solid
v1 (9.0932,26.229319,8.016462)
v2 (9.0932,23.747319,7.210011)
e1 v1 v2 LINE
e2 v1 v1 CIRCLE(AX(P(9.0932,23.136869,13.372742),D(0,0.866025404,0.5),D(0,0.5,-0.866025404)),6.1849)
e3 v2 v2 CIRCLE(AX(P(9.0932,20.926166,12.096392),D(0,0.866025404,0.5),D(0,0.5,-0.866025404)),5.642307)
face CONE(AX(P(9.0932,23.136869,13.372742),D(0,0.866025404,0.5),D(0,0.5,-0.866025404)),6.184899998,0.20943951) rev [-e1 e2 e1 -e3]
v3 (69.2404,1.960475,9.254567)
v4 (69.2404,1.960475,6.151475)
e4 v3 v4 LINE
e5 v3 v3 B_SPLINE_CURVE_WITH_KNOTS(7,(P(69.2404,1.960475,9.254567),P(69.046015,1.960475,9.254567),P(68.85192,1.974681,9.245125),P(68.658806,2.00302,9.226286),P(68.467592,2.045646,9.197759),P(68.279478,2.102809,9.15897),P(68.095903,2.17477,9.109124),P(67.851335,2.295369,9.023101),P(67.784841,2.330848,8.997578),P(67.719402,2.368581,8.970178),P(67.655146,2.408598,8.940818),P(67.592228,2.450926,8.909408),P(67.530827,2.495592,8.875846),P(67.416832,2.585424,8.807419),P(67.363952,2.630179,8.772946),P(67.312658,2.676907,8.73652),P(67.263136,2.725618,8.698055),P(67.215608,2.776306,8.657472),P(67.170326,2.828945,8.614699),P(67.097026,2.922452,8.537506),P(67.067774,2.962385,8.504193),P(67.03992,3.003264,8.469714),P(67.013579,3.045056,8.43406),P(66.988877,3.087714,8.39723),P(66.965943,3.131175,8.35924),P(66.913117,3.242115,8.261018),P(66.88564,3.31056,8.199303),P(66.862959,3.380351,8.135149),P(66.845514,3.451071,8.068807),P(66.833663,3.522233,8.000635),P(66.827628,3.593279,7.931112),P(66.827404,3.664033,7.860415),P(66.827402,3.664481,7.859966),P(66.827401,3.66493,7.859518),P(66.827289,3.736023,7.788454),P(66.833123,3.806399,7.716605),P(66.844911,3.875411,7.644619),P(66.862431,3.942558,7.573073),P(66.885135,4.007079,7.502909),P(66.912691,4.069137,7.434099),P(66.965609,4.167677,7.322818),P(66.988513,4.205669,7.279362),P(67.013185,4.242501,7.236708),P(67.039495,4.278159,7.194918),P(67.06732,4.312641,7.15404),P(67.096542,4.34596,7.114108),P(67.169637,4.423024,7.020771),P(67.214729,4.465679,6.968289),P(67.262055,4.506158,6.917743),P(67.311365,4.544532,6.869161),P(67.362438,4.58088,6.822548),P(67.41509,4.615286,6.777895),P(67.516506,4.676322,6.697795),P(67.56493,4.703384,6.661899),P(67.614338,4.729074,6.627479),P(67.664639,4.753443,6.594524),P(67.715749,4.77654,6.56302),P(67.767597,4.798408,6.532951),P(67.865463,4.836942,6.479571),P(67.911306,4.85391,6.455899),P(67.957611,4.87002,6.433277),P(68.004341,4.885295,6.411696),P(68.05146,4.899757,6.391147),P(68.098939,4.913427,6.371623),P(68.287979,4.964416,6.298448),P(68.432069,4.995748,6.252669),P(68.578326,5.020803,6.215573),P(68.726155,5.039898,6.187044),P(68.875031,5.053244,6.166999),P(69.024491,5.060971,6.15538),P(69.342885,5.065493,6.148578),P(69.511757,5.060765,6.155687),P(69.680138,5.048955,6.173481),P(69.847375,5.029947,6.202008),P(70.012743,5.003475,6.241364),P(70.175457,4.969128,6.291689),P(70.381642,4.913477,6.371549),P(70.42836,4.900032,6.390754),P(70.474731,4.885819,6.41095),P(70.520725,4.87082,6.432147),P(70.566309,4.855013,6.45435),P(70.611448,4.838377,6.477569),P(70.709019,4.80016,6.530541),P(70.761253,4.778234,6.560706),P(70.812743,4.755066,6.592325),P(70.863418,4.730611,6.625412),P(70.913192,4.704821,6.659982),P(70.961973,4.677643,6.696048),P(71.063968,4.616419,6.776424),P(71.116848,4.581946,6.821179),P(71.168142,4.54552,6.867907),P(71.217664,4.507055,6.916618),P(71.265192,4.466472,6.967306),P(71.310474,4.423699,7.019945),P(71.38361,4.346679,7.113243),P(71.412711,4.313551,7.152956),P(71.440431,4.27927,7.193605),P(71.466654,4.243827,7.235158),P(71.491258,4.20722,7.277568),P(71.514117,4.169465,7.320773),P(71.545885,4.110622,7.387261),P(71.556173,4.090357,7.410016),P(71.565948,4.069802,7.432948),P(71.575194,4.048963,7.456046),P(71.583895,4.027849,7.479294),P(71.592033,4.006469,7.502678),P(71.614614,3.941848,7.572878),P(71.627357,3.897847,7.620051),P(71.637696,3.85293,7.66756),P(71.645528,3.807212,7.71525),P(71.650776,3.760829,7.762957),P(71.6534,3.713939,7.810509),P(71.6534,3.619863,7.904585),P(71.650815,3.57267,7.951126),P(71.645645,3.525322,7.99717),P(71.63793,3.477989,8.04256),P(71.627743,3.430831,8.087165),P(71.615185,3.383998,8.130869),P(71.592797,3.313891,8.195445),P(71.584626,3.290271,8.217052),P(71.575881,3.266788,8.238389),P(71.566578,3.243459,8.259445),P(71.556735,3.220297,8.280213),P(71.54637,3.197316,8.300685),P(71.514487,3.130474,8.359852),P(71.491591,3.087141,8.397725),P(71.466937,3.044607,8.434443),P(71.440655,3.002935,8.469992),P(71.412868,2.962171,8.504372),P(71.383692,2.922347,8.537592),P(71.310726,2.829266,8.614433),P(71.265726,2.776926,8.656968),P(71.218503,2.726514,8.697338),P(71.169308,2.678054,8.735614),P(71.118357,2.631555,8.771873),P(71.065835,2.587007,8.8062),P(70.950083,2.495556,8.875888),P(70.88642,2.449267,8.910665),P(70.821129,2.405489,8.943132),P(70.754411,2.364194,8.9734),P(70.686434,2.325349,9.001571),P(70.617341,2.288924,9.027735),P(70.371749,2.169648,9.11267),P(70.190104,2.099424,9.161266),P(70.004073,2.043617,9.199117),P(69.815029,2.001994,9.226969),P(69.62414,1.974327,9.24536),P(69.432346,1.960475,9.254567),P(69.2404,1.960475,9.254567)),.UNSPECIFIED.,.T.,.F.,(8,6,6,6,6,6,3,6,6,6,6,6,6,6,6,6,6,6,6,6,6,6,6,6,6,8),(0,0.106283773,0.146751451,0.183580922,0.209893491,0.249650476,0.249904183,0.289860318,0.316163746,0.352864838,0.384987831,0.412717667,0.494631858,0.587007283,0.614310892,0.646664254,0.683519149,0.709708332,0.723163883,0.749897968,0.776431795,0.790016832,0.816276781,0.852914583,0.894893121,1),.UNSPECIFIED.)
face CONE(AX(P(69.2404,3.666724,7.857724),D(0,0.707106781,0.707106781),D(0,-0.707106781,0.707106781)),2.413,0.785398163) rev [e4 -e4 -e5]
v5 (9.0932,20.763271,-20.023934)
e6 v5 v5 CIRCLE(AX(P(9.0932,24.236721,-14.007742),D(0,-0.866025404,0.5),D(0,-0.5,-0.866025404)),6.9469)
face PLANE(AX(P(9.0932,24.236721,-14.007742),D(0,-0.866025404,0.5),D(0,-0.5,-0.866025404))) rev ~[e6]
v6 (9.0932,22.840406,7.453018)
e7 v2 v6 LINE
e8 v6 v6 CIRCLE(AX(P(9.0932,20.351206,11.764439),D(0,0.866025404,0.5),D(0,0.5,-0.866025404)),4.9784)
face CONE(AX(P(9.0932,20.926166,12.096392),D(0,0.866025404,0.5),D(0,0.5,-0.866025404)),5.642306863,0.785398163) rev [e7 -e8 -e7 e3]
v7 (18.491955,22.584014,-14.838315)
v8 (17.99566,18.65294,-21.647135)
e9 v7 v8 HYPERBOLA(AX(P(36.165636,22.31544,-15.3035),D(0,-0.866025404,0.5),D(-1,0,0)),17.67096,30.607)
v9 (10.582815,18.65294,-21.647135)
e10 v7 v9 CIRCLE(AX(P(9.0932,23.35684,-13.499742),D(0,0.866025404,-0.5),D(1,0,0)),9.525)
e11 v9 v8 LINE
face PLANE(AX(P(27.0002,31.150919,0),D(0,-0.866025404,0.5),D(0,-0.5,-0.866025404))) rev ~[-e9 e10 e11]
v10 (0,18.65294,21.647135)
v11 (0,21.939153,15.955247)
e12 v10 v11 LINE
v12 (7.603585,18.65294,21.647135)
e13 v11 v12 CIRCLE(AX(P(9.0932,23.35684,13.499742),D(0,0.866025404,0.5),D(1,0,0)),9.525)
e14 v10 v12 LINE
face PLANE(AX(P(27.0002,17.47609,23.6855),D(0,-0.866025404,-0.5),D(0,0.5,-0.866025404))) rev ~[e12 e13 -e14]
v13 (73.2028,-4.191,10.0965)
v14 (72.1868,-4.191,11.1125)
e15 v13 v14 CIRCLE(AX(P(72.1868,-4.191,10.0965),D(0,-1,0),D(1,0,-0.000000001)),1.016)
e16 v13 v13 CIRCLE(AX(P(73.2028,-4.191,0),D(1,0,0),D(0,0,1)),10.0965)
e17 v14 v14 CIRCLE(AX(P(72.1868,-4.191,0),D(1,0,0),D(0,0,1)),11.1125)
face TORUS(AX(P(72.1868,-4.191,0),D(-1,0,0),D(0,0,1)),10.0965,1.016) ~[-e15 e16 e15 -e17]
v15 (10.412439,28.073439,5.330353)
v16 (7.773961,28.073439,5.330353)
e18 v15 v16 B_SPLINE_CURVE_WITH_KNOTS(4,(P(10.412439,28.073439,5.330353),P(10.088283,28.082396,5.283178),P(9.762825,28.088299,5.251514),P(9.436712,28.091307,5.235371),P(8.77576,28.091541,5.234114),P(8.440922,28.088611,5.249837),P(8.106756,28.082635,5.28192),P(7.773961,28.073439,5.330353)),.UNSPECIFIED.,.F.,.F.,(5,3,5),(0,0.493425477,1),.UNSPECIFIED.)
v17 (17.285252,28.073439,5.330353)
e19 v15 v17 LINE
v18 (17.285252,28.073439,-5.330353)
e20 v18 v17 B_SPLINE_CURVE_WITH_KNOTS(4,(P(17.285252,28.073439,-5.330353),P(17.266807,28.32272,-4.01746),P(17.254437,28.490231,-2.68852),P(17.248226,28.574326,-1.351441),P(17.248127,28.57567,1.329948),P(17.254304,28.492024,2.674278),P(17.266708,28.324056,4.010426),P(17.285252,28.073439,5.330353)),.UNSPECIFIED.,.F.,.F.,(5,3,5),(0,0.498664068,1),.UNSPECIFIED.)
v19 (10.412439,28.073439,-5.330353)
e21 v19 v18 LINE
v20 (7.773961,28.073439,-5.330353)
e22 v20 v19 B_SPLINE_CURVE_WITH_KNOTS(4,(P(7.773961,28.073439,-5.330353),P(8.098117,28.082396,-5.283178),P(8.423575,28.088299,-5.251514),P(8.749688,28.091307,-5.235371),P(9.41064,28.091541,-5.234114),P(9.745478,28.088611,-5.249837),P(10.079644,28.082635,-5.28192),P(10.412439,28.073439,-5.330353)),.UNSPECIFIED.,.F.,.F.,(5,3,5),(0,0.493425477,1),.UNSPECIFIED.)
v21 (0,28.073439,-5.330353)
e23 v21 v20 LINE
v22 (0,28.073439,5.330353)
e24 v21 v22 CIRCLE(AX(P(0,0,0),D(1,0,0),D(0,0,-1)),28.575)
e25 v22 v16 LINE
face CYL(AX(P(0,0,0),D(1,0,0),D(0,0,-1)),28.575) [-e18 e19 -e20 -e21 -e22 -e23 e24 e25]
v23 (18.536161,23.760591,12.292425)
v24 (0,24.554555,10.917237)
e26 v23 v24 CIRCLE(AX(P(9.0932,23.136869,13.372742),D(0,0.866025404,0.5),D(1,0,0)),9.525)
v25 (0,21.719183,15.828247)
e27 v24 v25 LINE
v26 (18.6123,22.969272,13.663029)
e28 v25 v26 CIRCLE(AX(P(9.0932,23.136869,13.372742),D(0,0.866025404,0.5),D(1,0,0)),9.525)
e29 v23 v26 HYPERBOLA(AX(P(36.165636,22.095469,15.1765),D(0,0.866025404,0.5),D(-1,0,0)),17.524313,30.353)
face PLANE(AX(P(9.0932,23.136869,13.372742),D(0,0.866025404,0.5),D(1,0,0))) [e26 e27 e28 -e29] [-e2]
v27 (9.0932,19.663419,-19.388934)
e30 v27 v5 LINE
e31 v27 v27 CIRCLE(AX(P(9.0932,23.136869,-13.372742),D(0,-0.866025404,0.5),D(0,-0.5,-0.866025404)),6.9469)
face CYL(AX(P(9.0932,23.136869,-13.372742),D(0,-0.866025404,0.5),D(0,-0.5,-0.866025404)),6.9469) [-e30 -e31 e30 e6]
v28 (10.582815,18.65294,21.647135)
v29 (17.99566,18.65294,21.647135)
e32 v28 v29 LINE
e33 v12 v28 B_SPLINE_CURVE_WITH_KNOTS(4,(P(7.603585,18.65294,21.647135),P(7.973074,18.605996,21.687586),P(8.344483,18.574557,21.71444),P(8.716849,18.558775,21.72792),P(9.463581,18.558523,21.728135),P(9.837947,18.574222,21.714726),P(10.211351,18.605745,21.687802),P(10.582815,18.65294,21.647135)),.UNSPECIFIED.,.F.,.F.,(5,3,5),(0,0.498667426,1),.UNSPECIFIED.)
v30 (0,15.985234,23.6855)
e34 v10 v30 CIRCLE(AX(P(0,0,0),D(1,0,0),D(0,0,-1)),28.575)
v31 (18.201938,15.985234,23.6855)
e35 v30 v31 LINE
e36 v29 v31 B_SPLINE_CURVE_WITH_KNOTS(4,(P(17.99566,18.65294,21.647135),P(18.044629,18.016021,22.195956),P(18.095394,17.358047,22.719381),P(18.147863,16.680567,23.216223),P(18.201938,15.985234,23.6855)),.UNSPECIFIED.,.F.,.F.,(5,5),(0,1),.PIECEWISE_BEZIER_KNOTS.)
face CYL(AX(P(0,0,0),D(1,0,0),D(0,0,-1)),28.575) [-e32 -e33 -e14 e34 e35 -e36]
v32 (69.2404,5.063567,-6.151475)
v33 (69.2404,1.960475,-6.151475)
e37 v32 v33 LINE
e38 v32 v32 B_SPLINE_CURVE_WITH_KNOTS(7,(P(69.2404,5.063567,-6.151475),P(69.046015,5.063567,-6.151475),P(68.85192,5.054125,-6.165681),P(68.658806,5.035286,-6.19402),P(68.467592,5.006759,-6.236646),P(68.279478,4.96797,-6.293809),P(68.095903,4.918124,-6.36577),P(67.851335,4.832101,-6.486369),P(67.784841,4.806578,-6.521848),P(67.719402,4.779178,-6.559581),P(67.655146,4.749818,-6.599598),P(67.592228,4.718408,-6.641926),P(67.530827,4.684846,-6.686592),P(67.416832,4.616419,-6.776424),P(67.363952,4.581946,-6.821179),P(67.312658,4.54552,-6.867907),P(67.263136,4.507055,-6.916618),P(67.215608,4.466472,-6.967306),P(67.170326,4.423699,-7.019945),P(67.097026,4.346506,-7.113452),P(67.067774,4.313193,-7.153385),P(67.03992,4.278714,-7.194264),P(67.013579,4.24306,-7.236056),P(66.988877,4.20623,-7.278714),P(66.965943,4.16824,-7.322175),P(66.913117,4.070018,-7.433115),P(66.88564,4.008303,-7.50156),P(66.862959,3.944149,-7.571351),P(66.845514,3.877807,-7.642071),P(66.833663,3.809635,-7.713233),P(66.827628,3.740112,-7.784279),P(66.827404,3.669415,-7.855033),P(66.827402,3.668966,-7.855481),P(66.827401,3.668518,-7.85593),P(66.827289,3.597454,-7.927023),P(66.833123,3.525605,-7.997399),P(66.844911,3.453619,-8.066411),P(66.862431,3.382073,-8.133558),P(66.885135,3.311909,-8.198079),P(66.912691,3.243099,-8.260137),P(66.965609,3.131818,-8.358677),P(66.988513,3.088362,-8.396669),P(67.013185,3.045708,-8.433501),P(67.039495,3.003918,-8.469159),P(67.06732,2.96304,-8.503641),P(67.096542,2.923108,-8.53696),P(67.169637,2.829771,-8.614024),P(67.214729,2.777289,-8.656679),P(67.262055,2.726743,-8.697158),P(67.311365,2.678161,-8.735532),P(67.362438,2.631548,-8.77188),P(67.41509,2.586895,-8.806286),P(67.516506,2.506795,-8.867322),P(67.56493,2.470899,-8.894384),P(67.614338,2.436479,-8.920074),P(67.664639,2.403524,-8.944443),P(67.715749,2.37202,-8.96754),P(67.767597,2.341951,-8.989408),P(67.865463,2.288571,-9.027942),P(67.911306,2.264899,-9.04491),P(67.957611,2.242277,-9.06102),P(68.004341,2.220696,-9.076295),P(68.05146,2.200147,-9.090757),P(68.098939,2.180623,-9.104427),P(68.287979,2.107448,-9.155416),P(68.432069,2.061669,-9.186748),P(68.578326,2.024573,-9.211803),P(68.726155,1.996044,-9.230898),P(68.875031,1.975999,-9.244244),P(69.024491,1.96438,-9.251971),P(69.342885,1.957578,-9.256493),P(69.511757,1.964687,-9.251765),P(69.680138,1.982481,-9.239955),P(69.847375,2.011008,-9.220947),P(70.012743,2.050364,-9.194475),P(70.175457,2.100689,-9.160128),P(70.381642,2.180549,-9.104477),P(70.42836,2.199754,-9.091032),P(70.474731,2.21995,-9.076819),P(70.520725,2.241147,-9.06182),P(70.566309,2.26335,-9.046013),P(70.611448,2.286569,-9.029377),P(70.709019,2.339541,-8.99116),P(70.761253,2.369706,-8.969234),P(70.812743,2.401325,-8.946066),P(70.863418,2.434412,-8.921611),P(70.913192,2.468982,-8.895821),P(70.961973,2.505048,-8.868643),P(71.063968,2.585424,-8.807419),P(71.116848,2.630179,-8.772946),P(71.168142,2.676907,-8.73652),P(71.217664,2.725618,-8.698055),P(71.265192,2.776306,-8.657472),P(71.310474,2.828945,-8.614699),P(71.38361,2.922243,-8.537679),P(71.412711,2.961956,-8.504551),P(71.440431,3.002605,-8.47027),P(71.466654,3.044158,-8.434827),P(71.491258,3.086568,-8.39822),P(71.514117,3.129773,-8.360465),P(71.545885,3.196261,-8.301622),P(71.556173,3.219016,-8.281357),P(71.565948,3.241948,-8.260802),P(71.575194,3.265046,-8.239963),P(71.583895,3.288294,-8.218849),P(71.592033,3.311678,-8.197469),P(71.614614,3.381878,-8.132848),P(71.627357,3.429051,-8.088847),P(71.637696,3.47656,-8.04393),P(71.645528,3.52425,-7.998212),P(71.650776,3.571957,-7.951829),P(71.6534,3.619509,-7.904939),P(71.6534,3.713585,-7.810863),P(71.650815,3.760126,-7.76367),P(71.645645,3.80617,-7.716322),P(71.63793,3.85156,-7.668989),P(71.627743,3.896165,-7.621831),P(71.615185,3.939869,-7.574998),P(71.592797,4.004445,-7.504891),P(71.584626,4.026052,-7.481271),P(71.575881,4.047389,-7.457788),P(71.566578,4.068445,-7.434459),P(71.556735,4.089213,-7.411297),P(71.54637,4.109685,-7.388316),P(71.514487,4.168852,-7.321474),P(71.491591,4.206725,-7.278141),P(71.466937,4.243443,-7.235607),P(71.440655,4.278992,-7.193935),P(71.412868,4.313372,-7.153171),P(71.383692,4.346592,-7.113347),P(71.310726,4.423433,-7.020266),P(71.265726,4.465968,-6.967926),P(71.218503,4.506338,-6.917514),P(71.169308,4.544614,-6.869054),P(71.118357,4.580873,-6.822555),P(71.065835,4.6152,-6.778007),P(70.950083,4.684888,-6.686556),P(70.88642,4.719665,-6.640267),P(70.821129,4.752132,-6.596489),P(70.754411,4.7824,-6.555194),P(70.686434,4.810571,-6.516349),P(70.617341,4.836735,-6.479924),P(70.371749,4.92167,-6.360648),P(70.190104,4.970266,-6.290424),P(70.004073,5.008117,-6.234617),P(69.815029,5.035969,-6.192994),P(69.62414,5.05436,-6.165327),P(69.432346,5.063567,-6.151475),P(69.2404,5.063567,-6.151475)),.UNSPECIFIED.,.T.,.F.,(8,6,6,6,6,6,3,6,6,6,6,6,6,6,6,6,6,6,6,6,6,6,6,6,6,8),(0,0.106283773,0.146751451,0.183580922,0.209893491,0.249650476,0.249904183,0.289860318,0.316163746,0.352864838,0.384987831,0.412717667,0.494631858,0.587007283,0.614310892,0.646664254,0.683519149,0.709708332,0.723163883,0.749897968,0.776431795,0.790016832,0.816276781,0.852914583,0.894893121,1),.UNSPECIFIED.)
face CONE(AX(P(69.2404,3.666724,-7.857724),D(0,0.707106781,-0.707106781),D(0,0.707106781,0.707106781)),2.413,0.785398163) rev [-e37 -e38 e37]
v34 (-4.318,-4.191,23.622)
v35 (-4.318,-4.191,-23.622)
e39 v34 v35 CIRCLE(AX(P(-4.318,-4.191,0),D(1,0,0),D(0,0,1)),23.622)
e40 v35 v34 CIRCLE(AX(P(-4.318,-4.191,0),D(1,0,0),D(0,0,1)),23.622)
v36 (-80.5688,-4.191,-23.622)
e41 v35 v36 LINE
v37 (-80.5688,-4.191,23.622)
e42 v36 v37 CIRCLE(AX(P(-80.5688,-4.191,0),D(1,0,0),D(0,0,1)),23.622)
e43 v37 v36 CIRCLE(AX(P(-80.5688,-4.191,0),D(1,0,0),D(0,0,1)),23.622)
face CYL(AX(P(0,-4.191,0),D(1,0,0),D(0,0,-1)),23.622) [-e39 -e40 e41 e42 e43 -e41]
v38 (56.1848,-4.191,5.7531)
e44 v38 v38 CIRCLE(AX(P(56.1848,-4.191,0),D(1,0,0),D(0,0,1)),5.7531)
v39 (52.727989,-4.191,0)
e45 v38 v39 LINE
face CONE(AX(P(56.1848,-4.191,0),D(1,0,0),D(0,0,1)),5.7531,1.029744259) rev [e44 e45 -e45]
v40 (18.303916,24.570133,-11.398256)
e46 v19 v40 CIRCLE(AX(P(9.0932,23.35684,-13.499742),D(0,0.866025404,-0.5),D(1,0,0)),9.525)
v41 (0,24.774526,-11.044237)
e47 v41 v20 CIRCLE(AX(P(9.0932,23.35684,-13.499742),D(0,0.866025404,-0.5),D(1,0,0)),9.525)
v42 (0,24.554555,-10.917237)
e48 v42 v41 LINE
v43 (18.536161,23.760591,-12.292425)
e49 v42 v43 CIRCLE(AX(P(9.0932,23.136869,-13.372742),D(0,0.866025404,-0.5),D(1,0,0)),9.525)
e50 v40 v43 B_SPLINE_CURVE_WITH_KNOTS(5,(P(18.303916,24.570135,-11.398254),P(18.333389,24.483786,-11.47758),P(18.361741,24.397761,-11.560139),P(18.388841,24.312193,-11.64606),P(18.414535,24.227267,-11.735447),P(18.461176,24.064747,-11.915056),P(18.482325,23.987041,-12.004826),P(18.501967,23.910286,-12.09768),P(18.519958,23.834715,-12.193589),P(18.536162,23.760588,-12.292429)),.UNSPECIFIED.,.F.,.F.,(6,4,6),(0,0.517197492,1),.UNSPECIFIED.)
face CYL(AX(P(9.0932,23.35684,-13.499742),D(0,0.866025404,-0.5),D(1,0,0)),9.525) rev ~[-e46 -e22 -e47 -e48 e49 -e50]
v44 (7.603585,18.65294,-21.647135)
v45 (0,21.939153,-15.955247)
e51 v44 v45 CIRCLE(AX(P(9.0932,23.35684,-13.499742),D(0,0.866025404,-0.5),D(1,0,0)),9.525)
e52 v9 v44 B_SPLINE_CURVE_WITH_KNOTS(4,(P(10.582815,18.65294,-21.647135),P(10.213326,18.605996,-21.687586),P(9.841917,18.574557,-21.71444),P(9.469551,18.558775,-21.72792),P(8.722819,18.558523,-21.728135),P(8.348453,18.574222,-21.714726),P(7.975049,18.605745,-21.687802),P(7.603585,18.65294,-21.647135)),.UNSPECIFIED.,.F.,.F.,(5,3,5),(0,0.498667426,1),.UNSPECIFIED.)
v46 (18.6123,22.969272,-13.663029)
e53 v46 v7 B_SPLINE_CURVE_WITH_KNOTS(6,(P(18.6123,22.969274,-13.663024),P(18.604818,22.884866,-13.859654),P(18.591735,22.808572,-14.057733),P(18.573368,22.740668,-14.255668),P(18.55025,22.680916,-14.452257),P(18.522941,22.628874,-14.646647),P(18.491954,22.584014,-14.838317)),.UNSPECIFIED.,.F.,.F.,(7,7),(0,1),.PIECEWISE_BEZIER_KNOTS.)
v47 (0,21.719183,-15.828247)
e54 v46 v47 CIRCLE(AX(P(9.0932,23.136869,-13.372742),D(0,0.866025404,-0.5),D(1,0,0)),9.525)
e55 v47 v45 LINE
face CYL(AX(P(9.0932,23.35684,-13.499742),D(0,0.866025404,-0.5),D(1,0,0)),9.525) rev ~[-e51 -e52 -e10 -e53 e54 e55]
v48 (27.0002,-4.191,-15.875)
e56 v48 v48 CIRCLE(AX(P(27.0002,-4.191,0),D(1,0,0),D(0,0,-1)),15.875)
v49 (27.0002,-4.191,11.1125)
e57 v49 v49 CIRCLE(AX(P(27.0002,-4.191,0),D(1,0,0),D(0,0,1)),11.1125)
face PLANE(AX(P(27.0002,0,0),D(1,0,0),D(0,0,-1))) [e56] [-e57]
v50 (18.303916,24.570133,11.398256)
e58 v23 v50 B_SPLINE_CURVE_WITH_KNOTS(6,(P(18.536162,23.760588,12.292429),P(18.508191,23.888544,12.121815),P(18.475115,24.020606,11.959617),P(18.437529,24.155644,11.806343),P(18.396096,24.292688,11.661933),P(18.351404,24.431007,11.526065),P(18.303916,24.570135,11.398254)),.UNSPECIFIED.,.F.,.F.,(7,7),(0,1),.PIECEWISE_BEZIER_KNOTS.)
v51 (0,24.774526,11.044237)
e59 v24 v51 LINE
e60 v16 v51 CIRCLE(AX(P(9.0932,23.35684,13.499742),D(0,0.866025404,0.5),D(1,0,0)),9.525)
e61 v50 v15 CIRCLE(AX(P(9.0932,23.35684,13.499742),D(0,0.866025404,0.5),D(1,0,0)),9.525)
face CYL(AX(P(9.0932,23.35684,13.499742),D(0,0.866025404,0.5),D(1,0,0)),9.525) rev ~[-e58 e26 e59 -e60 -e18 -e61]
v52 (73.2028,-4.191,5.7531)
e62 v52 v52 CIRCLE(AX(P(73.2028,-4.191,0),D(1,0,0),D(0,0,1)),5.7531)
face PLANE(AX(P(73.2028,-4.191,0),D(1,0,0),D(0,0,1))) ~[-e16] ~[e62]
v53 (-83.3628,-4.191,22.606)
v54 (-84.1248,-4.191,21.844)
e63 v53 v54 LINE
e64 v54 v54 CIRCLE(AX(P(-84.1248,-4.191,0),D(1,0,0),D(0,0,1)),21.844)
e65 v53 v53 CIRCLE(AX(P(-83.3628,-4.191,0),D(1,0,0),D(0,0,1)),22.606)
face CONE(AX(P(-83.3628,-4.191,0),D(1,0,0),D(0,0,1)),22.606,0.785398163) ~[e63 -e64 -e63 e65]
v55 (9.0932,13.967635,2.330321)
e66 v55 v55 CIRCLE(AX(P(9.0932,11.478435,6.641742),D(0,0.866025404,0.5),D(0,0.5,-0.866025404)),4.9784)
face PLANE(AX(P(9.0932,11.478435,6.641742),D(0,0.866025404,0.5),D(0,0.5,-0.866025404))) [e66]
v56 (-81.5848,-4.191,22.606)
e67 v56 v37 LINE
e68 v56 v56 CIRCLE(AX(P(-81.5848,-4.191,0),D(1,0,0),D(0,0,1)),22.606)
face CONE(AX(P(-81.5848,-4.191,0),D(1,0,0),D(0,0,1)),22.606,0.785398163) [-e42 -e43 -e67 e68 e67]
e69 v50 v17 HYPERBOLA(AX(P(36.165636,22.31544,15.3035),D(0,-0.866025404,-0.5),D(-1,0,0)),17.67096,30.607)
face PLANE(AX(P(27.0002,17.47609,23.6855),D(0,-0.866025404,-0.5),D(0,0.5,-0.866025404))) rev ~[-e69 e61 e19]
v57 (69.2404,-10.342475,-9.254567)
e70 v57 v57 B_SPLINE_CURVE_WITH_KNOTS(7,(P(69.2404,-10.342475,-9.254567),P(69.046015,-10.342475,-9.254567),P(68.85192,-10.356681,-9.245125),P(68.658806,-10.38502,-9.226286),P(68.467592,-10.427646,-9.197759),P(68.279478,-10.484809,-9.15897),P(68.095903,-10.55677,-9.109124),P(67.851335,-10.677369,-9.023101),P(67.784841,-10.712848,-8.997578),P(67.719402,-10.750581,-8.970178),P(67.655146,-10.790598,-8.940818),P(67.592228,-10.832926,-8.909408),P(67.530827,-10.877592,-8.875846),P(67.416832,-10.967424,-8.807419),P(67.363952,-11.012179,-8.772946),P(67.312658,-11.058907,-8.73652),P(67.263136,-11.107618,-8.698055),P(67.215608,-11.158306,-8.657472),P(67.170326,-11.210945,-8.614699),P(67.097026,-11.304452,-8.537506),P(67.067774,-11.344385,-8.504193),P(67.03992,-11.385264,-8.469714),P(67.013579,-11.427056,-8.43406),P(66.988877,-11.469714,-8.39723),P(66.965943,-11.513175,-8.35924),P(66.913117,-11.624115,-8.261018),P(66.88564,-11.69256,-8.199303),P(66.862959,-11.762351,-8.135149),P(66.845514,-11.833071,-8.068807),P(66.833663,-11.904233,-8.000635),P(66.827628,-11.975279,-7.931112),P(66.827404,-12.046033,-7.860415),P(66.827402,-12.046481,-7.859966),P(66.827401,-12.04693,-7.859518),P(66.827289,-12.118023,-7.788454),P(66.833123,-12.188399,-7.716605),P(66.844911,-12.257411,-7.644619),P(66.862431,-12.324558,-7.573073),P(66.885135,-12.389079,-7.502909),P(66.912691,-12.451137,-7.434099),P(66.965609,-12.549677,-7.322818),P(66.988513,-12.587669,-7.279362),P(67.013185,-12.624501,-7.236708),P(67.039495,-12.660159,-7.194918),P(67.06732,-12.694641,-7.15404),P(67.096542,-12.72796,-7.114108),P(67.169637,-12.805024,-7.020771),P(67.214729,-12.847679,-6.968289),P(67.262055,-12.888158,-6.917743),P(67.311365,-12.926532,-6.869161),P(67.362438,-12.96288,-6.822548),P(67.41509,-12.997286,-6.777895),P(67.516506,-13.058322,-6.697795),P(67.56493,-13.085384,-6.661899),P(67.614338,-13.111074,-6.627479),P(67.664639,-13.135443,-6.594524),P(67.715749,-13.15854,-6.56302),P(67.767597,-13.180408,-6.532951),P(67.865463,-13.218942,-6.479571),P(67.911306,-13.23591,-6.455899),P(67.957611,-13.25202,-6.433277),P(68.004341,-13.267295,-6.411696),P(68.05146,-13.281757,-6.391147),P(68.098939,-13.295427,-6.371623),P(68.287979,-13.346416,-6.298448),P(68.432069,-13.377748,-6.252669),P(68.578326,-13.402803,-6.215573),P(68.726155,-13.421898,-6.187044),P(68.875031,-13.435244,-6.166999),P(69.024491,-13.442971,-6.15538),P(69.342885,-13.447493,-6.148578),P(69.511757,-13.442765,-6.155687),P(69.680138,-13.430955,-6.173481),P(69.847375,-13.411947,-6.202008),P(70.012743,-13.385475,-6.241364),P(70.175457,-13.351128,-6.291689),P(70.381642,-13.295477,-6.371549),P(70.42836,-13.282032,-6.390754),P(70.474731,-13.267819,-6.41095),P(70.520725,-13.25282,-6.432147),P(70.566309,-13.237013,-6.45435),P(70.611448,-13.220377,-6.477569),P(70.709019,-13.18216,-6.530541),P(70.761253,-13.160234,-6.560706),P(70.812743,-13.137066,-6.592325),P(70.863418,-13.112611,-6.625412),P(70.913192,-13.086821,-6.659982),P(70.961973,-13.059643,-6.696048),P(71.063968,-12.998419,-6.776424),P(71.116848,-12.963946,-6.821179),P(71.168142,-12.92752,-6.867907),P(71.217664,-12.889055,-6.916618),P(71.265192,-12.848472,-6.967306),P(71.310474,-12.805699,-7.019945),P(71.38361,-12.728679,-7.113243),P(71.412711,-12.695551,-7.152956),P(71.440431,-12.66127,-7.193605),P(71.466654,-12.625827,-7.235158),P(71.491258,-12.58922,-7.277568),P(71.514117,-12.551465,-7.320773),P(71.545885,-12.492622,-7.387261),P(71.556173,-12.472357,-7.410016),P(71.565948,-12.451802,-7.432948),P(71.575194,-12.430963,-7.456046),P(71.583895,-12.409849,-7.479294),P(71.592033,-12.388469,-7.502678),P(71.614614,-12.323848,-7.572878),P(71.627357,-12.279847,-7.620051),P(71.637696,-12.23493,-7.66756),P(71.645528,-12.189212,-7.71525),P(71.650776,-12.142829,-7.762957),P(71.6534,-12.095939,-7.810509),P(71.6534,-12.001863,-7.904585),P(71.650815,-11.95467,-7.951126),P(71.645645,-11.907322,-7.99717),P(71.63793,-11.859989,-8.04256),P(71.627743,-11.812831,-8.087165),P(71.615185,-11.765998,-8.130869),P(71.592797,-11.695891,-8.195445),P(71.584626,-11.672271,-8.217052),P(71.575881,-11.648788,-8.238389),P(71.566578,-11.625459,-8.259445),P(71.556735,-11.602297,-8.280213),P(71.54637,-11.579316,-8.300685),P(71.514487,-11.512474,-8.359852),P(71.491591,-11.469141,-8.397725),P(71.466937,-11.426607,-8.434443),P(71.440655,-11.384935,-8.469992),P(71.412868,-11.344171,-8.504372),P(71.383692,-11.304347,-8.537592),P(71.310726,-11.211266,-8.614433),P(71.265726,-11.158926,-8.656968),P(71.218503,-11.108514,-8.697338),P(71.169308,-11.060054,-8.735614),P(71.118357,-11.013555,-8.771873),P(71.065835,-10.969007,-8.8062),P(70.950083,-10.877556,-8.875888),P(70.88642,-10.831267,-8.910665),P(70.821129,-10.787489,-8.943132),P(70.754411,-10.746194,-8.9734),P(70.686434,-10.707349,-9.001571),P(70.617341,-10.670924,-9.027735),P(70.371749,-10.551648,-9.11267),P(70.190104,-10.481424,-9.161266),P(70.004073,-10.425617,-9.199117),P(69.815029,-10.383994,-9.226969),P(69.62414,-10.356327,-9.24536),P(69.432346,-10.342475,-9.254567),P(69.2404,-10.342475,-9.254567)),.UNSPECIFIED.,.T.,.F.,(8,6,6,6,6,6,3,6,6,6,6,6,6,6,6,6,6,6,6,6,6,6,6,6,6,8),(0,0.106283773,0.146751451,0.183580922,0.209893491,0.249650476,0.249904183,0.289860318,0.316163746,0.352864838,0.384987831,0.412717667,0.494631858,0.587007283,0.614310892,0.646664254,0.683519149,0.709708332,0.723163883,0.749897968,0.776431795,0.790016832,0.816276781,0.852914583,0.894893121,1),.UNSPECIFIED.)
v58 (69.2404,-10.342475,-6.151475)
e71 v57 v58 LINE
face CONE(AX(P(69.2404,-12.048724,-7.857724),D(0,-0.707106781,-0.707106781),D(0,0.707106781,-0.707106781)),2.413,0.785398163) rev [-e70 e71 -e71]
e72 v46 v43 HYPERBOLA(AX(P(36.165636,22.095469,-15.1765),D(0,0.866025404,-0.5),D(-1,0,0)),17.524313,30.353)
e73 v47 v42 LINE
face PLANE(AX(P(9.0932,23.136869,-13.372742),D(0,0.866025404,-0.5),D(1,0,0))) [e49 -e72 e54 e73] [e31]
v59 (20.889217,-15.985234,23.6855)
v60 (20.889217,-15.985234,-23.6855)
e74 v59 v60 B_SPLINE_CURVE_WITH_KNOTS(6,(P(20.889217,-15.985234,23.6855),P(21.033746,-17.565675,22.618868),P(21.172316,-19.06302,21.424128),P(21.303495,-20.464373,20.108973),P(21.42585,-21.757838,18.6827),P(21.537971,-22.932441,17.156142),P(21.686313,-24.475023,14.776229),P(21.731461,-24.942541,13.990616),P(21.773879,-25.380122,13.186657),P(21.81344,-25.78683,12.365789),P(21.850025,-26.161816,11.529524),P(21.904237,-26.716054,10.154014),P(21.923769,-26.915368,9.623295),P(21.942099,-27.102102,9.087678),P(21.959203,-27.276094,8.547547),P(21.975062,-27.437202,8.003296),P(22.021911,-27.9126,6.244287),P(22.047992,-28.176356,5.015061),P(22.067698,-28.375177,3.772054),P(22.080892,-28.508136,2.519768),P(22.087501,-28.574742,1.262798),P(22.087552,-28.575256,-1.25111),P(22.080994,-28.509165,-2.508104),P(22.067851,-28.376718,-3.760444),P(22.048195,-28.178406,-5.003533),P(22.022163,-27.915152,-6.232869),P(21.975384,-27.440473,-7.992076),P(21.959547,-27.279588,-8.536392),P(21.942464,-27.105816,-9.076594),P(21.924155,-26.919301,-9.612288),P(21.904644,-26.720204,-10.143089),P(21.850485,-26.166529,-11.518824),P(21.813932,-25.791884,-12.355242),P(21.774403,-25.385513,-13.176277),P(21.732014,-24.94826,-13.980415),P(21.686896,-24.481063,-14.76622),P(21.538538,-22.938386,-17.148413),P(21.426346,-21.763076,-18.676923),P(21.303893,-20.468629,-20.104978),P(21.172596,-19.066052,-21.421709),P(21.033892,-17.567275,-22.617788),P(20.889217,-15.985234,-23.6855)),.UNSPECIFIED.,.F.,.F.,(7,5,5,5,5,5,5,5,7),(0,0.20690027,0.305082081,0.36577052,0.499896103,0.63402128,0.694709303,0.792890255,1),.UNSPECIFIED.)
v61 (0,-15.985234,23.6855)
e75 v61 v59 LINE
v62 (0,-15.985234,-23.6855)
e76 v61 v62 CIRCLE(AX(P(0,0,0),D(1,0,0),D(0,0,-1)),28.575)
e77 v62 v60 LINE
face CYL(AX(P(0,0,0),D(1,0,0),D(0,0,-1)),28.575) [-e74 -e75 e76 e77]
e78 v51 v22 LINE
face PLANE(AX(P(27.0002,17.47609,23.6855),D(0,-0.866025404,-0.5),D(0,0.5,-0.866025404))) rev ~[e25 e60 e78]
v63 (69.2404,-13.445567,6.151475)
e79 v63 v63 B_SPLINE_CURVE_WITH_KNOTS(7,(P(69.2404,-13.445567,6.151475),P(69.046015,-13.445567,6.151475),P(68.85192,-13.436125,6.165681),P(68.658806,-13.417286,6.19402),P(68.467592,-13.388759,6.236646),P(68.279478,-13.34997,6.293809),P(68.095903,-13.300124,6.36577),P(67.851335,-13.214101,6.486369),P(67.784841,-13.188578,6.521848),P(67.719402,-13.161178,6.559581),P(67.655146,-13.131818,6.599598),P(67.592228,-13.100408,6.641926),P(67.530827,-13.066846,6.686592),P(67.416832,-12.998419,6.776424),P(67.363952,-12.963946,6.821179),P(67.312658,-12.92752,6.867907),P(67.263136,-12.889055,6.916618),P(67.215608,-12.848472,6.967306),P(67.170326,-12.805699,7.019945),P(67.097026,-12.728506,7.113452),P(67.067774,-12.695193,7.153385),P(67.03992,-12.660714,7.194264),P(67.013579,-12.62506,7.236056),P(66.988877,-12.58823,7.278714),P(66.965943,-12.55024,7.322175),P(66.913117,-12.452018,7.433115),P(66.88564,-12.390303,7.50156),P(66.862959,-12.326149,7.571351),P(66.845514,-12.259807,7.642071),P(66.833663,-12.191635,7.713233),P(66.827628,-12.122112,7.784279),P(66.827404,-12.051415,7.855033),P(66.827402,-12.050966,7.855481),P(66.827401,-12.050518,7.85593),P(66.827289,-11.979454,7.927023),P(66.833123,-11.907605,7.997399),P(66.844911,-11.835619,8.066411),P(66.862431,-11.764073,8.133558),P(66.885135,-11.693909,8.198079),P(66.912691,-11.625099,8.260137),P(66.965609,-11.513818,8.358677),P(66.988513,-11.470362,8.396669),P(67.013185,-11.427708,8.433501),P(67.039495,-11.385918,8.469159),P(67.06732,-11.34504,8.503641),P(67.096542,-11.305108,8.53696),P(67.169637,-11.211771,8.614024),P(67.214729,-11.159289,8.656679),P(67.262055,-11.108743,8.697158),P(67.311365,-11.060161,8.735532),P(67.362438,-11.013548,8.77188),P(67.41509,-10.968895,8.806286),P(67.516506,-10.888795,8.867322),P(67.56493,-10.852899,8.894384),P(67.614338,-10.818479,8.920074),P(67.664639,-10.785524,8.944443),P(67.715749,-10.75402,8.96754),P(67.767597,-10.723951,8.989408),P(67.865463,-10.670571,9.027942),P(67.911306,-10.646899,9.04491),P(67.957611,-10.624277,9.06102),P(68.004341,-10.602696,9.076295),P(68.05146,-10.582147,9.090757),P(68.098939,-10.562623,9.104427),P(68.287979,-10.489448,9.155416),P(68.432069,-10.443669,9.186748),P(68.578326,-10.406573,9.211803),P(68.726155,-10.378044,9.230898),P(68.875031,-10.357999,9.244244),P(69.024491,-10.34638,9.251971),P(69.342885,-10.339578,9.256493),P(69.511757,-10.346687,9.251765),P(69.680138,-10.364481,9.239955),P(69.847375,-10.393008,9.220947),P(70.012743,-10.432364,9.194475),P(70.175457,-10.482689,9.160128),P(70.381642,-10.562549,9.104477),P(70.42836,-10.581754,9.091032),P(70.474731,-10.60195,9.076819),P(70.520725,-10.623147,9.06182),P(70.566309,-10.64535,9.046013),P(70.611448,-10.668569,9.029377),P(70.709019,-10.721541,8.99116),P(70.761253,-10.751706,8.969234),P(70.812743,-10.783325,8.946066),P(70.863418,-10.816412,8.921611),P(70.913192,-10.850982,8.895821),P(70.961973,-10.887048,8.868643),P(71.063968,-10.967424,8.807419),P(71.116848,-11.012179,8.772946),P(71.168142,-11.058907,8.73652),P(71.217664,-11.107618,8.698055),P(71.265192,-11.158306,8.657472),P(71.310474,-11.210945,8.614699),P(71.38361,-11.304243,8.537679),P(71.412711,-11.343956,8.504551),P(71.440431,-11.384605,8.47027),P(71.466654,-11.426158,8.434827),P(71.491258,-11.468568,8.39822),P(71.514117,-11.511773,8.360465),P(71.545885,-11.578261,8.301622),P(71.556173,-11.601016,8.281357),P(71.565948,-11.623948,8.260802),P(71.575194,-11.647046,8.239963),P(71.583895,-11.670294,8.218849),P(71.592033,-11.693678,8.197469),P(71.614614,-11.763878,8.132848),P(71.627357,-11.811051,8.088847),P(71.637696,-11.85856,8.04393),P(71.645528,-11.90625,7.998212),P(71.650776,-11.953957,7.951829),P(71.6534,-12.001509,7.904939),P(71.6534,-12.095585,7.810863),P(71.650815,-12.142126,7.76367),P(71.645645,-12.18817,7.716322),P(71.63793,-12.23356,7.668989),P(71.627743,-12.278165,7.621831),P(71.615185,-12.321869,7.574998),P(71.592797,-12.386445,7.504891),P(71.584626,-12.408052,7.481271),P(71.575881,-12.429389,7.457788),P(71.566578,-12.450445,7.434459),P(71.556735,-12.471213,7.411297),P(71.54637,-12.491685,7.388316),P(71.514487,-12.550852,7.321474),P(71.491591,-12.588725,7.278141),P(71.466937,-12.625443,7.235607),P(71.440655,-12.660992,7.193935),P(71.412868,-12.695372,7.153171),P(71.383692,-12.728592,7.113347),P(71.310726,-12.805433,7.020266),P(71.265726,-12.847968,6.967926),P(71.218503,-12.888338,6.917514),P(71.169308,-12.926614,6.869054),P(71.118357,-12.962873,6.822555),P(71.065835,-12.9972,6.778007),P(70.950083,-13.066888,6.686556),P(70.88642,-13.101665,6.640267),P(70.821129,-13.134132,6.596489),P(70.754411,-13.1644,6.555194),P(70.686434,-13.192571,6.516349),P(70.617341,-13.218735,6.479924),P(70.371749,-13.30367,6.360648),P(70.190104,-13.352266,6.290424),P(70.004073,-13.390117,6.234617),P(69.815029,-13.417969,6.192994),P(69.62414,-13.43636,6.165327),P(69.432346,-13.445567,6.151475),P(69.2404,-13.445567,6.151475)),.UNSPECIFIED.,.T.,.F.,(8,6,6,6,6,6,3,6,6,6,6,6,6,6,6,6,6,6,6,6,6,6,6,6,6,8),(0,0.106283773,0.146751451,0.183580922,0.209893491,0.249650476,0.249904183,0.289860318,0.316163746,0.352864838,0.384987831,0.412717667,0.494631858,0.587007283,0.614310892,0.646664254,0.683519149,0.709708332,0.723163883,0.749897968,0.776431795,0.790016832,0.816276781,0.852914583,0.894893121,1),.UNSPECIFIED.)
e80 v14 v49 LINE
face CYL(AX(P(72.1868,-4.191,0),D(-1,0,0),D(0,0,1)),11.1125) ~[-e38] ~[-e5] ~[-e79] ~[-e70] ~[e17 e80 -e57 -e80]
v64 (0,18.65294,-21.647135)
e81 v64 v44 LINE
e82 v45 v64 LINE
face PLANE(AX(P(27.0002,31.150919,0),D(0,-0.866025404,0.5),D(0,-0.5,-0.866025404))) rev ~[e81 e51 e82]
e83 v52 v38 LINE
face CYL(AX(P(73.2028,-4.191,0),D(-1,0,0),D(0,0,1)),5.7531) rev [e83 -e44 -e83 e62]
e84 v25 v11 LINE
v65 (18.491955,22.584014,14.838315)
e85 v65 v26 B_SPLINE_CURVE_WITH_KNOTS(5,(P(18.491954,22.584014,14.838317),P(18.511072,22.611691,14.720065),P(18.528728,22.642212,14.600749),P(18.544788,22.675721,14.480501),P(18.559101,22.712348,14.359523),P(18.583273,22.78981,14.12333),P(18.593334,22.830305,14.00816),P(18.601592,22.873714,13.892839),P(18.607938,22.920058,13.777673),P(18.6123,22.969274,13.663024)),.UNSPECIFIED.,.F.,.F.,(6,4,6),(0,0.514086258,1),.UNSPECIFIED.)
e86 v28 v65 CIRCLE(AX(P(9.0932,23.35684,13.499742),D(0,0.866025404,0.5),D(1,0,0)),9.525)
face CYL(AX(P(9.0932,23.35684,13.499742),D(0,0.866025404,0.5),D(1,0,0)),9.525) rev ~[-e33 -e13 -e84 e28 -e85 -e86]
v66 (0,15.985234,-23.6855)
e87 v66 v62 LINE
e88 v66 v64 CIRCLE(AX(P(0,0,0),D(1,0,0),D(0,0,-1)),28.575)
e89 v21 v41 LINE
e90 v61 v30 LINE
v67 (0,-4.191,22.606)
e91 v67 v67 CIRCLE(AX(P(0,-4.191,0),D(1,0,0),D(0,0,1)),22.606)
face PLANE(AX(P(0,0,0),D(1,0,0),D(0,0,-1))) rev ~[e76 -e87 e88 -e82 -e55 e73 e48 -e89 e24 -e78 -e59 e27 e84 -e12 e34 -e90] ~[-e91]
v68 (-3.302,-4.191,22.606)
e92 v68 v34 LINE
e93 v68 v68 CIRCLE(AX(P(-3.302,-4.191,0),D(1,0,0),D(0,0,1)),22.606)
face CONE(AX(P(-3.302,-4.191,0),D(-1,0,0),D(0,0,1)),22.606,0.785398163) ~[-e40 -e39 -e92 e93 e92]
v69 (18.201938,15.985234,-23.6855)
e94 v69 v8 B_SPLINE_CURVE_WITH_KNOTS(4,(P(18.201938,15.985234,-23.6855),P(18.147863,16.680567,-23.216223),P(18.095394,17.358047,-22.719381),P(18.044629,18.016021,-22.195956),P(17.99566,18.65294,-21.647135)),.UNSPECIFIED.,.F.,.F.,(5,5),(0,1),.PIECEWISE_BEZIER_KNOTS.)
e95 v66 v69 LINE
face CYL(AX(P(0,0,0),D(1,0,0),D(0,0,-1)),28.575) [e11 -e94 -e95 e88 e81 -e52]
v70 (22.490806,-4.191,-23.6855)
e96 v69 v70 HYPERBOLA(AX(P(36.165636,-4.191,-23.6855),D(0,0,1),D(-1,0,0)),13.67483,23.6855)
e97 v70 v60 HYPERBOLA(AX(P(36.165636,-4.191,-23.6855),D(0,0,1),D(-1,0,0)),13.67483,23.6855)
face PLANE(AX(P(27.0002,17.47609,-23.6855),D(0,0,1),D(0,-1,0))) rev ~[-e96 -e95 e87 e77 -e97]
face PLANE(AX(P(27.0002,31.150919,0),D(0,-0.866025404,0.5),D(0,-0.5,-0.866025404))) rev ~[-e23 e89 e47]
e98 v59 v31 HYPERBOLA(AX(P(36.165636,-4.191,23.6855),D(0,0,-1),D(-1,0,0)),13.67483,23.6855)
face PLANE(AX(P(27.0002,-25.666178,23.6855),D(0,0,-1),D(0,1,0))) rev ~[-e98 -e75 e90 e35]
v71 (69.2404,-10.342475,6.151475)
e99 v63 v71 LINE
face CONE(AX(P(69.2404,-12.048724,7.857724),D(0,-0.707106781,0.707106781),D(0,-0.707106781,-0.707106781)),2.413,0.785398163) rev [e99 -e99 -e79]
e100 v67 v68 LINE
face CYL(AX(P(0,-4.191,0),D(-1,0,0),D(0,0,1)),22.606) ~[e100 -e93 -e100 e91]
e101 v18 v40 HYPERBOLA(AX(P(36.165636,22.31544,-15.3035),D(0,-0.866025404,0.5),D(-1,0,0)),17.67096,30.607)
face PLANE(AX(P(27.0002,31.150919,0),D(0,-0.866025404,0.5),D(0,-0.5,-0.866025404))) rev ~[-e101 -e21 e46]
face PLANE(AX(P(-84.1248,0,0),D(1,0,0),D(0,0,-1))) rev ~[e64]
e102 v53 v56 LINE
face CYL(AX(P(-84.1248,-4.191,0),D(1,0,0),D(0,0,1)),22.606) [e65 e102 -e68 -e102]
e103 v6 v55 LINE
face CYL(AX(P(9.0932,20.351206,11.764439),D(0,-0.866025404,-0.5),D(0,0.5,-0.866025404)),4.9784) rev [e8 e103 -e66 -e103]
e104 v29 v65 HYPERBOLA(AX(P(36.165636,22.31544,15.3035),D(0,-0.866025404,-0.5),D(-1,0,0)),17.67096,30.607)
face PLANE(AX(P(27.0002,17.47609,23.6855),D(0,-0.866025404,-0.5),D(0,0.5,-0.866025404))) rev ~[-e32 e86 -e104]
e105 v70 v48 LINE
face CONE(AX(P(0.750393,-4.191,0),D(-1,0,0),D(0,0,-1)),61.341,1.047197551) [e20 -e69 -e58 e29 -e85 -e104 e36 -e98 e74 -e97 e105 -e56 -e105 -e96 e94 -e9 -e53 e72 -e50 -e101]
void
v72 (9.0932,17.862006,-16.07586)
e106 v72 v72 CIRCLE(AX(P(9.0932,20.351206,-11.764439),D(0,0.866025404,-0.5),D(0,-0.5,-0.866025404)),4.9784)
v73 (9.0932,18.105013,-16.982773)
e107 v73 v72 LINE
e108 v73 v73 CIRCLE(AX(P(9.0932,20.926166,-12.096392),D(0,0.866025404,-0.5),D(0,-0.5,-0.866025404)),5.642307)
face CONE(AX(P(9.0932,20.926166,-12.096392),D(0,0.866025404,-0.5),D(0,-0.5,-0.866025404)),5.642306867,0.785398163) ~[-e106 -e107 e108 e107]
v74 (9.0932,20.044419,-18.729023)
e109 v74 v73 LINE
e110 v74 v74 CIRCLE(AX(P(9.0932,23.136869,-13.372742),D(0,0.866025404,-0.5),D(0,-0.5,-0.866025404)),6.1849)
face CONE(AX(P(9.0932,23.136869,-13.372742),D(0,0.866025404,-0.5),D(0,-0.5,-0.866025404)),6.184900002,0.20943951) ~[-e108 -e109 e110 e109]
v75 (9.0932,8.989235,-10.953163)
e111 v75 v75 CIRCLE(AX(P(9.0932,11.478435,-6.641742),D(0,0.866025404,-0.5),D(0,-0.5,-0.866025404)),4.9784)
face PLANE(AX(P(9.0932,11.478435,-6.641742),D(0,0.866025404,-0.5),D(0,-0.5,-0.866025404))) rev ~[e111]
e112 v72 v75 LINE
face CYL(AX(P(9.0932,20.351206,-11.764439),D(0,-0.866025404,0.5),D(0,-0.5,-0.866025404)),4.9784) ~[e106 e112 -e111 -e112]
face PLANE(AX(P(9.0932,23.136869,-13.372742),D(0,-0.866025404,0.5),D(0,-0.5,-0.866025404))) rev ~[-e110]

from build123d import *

# Parameters (mm, degrees)
SKETCH1_R           = 28.575
EXTRUDE1_DEPTH      = 27.0002
EXTRUDE1_DEPTH_BACK = 84.1248
CUT_EXTRUDE1_REACH  = 86.125
SKETCH2_R           = 28.575
SKETCH2_R_2         = 23.622
CUT_EXTRUDE3_START  = -27.0002
CUT_EXTRUDE3_DEPTH  = 27.0002
SKETCH18_R          = 9.525
CUT_EXTRUDE4_DEPTH  = 0.254
SKETCH19_R          = 9.525
CUT_EXTRUDE5_DEPTH  = 0.254
CHAMFER1_SIZE       = 0.762
SKETCH15_R          = 6.9469
EXTRUDE2_DEPTH      = 1.27
CIRPATTERN1_COUNT   = 4


with BuildPart() as part:
    # Sketch1 → Extrude1 (new body, two sides)
    with BuildSketch(Plane(origin=(0, 0, 0), x_dir=(0, 0, -1), z_dir=(1, 0, 0))) as extrude1_sk:
        Circle(SKETCH1_R)
    extrude(amount=EXTRUDE1_DEPTH)
    extrude(extrude1_sk.sketch, amount=-EXTRUDE1_DEPTH_BACK)

    # Sketch2 → Cut-Extrude1 (cut, up to next)
    with BuildSketch(Plane(origin=(0, 0, 0), x_dir=(0, 0, -1), z_dir=(1, 0, 0)), mode=Mode.PRIVATE) as cut_extrude1_sk1:
        Circle(SKETCH2_R)
        with Locations((0, -4.191)):
            Circle(SKETCH2_R_2, mode=Mode.SUBTRACT)
    cut_extrude1_tool1 = extrude(cut_extrude1_sk1.sketch, amount=-CUT_EXTRUDE1_REACH, mode=Mode.PRIVATE) & part.part
    add(cut_extrude1_tool1.solids().sort_by_distance((0, 0, 27.766777))[0], mode=Mode.SUBTRACT)

    # Sketch4 → Cut-Extrude3 (cut)
    with BuildSketch(Plane.ZY.offset(CUT_EXTRUDE3_START)):
        with BuildLine():
            Line((23.6855, -25.666178421), (23.6855, 17.476089577))
            Line((23.6855, 17.476089577), (0, 31.150919378))
            Line((0, 31.150919378), (-23.6855, 17.476089577))
            Line((-23.6855, 17.476089577), (-23.6855, -25.666178421))
            ThreePointArc((-23.6855, -25.666178421), (0, 34.925), (23.6855, -25.666178421))
        make_face()
    extrude(amount=CUT_EXTRUDE3_DEPTH, mode=Mode.SUBTRACT)

    # Sketch6 → Cut-Revolve2 (revolve, cut)
    with BuildSketch(Plane.XY, mode=Mode.PRIVATE) as cut_revolve2_sk:
        Polygon((0.750392661, 57.15), (27.0002, 11.684), (27.0002, 57.15), align=None)
    revolve(cut_revolve2_sk.sketch.rotate(Axis((-0.562097706, -4.191, 0), (1, 0, 0)), 270), axis=Axis((-0.562097706, -4.191, 0), (1, 0, 0)), mode=Mode.SUBTRACT)  # turned: the seam where the file's is

    # S2D0002 → Cut-Revolve3 (revolve, cut)
    with BuildSketch(Plane(origin=(9.0932, 23.136869081, 13.372742289), x_dir=(0, 0.5, -0.866025404), z_dir=(1, 0, 0))):
        Polygon((0, 0), (6.1849, 0), (5.642306865, -2.5527), (4.9784, -3.216606865), (4.9784, -13.462), (0, -13.462), align=None)
    revolve(axis=Axis((9.0932, 10.895513396, 6.305192289), (0, 0.866025404, 0.5)), mode=Mode.SUBTRACT)

    # Sketch8 → Cut-Revolve4 (revolve, cut)
    with BuildSketch(Plane(origin=(9.0932, 23.136869081, -13.372742289), x_dir=(0, -0.5, -0.866025404), z_dir=(1, 0, 0))):
        Polygon((0, 0), (6.1849, 0), (5.642306865, -2.5527), (4.9784, -3.216606865), (4.9784, -13.462), (0, -13.462), align=None)
    revolve(axis=Axis((9.0932, 10.895513396, -6.305192289), (0, 0.866025404, -0.5)), mode=Mode.SUBTRACT)

    # Sketch18 → Cut-Extrude4 (cut)
    with BuildSketch(Plane(origin=(0, 23.363189534, 13.488743766), x_dir=(1, 0, 0), z_dir=(0, 0.866025404, 0.5))):
        with Locations((9.0932, -0.0127)):
            Circle(SKETCH18_R)
    extrude(amount=-CUT_EXTRUDE4_DEPTH, mode=Mode.SUBTRACT)

    # Sketch19 → Cut-Extrude5 (cut)
    with BuildSketch(Plane(origin=(0, 23.363189534, -13.488743766), x_dir=(1, 0, 0), z_dir=(0, 0.866025404, -0.5))):
        with Locations((9.0932, 0.0127)):
            Circle(SKETCH19_R)
    extrude(amount=-CUT_EXTRUDE5_DEPTH, mode=Mode.SUBTRACT)

    # Sketch10 → Cut-Revolve6 (revolve, cut)
    with BuildSketch(Plane.XY, mode=Mode.PRIVATE) as cut_revolve6_sk:
        Polygon((0, 19.431), (0, 18.415), (-3.302, 18.415), (-4.318, 19.431), align=None)
    revolve(cut_revolve6_sk.sketch.rotate(Axis((-4.5339, -4.191, 0), (1, 0, 0)), 90), axis=Axis((-4.5339, -4.191, 0), (1, 0, 0)), mode=Mode.SUBTRACT)  # turned: the seam where the file's is

    # Sketch12 → Cut-Revolve8 (revolve, cut)
    with BuildSketch(Plane.XY, mode=Mode.PRIVATE) as cut_revolve8_sk:
        Polygon((-84.1248, 19.431), (-84.1248, 18.415), (-81.5848, 18.415), (-80.5688, 19.431), align=None)
    revolve(cut_revolve8_sk.sketch.rotate(Axis((-84.3026, -4.191, 0), (1, 0, 0)), 90), axis=Axis((-84.3026, -4.191, 0), (1, 0, 0)), mode=Mode.SUBTRACT)  # turned: the seam where the file's is

    # Chamfer1
    chamfer1_edges = [part.edges().sort_by_distance(p)[0] for p in [
        (-84.1248, -4.191, -22.606),
    ]]
    chamfer(chamfer1_edges, length=CHAMFER1_SIZE)

    # Sketch13 → Revolve1 (revolve)
    with BuildSketch(Plane(origin=(0, 0, 0), x_dir=(0, -1, 0), z_dir=(0, 0, 1)), mode=Mode.PRIVATE) as revolve1_sk:
        with BuildLine():
            Line((4.191, 27.0002), (4.191, 73.2028))
            Line((4.191, 73.2028), (14.2875, 73.2028))
            ThreePointArc((14.2875, 73.2028), (15.00592049, 72.90522049), (15.3035, 72.1868))
            Line((15.3035, 72.1868), (15.3035, 27.0002))
            Line((15.3035, 27.0002), (4.191, 27.0002))
        make_face()
    revolve(revolve1_sk.sketch.rotate(Axis((25.10663, -4.191, 0), (1, 0, 0)), 270), axis=Axis((25.10663, -4.191, 0), (1, 0, 0)))  # turned: the seam where the file's is

    # S2D0001 → Cut-Revolve9 (revolve, cut)
    with BuildSketch(Plane(origin=(64.8716, -9.9441, 0), x_dir=(0, -1, 0), z_dir=(0, 0, 1)), mode=Mode.PRIVATE) as cut_revolve9_sk:
        Polygon((0, 8.3312), (0, -8.6868), (-5.7531, -12.143611227), (-5.7531, 8.3312), align=None)
    revolve(cut_revolve9_sk.sketch.rotate(Axis((43.373048211, -4.191, 0), (1, 0, 0)), 270), axis=Axis((43.373048211, -4.191, 0), (1, 0, 0)), mode=Mode.SUBTRACT)  # turned: the seam where the file's is

    # Sketch15 → Extrude2 (add)
    with BuildSketch(Plane(origin=(27.0002, 23.143219081, -13.361743766), x_dir=(0, -0.5, -0.866025404), z_dir=(0, -0.866025404, 0.5))):
        with Locations((0.0127, -17.907)):
            Circle(SKETCH15_R)
    extrude(amount=-EXTRUDE2_DEPTH)

    # Sketch16 → Cut-Revolve10 (revolve, cut)
    with BuildSketch(Plane(origin=(60.9092, 3.666724106, -7.857724106), x_dir=(-1, 0, 0), z_dir=(0, -0.707106781, -0.707106781)), mode=Mode.PRIVATE) as cut_revolve10_sk:
        Polygon((-8.3312, 0), (-5.9182, 0), (-8.3312, -2.413), align=None)
    cut_revolve10 = revolve(cut_revolve10_sk.sketch.rotate(Axis((69.2404, 0.494324135, -4.685324135), (0, 0.707106781, -0.707106781)), 90), axis=Axis((69.2404, 0.494324135, -4.685324135), (0, 0.707106781, -0.707106781)), mode=Mode.SUBTRACT)  # turned: the seam where the file's is

    # CirPattern1: Cut-Revolve10 ×4 about axis
    cirpattern1_axis = Axis((25.10663, -4.191, 0), (-1, 0, 0))
    for i in range(1, CIRPATTERN1_COUNT):
        add(cut_revolve10.rotate(cirpattern1_axis, i * 360 / CIRPATTERN1_COUNT), mode=Mode.SUBTRACT)


solid = part.part
